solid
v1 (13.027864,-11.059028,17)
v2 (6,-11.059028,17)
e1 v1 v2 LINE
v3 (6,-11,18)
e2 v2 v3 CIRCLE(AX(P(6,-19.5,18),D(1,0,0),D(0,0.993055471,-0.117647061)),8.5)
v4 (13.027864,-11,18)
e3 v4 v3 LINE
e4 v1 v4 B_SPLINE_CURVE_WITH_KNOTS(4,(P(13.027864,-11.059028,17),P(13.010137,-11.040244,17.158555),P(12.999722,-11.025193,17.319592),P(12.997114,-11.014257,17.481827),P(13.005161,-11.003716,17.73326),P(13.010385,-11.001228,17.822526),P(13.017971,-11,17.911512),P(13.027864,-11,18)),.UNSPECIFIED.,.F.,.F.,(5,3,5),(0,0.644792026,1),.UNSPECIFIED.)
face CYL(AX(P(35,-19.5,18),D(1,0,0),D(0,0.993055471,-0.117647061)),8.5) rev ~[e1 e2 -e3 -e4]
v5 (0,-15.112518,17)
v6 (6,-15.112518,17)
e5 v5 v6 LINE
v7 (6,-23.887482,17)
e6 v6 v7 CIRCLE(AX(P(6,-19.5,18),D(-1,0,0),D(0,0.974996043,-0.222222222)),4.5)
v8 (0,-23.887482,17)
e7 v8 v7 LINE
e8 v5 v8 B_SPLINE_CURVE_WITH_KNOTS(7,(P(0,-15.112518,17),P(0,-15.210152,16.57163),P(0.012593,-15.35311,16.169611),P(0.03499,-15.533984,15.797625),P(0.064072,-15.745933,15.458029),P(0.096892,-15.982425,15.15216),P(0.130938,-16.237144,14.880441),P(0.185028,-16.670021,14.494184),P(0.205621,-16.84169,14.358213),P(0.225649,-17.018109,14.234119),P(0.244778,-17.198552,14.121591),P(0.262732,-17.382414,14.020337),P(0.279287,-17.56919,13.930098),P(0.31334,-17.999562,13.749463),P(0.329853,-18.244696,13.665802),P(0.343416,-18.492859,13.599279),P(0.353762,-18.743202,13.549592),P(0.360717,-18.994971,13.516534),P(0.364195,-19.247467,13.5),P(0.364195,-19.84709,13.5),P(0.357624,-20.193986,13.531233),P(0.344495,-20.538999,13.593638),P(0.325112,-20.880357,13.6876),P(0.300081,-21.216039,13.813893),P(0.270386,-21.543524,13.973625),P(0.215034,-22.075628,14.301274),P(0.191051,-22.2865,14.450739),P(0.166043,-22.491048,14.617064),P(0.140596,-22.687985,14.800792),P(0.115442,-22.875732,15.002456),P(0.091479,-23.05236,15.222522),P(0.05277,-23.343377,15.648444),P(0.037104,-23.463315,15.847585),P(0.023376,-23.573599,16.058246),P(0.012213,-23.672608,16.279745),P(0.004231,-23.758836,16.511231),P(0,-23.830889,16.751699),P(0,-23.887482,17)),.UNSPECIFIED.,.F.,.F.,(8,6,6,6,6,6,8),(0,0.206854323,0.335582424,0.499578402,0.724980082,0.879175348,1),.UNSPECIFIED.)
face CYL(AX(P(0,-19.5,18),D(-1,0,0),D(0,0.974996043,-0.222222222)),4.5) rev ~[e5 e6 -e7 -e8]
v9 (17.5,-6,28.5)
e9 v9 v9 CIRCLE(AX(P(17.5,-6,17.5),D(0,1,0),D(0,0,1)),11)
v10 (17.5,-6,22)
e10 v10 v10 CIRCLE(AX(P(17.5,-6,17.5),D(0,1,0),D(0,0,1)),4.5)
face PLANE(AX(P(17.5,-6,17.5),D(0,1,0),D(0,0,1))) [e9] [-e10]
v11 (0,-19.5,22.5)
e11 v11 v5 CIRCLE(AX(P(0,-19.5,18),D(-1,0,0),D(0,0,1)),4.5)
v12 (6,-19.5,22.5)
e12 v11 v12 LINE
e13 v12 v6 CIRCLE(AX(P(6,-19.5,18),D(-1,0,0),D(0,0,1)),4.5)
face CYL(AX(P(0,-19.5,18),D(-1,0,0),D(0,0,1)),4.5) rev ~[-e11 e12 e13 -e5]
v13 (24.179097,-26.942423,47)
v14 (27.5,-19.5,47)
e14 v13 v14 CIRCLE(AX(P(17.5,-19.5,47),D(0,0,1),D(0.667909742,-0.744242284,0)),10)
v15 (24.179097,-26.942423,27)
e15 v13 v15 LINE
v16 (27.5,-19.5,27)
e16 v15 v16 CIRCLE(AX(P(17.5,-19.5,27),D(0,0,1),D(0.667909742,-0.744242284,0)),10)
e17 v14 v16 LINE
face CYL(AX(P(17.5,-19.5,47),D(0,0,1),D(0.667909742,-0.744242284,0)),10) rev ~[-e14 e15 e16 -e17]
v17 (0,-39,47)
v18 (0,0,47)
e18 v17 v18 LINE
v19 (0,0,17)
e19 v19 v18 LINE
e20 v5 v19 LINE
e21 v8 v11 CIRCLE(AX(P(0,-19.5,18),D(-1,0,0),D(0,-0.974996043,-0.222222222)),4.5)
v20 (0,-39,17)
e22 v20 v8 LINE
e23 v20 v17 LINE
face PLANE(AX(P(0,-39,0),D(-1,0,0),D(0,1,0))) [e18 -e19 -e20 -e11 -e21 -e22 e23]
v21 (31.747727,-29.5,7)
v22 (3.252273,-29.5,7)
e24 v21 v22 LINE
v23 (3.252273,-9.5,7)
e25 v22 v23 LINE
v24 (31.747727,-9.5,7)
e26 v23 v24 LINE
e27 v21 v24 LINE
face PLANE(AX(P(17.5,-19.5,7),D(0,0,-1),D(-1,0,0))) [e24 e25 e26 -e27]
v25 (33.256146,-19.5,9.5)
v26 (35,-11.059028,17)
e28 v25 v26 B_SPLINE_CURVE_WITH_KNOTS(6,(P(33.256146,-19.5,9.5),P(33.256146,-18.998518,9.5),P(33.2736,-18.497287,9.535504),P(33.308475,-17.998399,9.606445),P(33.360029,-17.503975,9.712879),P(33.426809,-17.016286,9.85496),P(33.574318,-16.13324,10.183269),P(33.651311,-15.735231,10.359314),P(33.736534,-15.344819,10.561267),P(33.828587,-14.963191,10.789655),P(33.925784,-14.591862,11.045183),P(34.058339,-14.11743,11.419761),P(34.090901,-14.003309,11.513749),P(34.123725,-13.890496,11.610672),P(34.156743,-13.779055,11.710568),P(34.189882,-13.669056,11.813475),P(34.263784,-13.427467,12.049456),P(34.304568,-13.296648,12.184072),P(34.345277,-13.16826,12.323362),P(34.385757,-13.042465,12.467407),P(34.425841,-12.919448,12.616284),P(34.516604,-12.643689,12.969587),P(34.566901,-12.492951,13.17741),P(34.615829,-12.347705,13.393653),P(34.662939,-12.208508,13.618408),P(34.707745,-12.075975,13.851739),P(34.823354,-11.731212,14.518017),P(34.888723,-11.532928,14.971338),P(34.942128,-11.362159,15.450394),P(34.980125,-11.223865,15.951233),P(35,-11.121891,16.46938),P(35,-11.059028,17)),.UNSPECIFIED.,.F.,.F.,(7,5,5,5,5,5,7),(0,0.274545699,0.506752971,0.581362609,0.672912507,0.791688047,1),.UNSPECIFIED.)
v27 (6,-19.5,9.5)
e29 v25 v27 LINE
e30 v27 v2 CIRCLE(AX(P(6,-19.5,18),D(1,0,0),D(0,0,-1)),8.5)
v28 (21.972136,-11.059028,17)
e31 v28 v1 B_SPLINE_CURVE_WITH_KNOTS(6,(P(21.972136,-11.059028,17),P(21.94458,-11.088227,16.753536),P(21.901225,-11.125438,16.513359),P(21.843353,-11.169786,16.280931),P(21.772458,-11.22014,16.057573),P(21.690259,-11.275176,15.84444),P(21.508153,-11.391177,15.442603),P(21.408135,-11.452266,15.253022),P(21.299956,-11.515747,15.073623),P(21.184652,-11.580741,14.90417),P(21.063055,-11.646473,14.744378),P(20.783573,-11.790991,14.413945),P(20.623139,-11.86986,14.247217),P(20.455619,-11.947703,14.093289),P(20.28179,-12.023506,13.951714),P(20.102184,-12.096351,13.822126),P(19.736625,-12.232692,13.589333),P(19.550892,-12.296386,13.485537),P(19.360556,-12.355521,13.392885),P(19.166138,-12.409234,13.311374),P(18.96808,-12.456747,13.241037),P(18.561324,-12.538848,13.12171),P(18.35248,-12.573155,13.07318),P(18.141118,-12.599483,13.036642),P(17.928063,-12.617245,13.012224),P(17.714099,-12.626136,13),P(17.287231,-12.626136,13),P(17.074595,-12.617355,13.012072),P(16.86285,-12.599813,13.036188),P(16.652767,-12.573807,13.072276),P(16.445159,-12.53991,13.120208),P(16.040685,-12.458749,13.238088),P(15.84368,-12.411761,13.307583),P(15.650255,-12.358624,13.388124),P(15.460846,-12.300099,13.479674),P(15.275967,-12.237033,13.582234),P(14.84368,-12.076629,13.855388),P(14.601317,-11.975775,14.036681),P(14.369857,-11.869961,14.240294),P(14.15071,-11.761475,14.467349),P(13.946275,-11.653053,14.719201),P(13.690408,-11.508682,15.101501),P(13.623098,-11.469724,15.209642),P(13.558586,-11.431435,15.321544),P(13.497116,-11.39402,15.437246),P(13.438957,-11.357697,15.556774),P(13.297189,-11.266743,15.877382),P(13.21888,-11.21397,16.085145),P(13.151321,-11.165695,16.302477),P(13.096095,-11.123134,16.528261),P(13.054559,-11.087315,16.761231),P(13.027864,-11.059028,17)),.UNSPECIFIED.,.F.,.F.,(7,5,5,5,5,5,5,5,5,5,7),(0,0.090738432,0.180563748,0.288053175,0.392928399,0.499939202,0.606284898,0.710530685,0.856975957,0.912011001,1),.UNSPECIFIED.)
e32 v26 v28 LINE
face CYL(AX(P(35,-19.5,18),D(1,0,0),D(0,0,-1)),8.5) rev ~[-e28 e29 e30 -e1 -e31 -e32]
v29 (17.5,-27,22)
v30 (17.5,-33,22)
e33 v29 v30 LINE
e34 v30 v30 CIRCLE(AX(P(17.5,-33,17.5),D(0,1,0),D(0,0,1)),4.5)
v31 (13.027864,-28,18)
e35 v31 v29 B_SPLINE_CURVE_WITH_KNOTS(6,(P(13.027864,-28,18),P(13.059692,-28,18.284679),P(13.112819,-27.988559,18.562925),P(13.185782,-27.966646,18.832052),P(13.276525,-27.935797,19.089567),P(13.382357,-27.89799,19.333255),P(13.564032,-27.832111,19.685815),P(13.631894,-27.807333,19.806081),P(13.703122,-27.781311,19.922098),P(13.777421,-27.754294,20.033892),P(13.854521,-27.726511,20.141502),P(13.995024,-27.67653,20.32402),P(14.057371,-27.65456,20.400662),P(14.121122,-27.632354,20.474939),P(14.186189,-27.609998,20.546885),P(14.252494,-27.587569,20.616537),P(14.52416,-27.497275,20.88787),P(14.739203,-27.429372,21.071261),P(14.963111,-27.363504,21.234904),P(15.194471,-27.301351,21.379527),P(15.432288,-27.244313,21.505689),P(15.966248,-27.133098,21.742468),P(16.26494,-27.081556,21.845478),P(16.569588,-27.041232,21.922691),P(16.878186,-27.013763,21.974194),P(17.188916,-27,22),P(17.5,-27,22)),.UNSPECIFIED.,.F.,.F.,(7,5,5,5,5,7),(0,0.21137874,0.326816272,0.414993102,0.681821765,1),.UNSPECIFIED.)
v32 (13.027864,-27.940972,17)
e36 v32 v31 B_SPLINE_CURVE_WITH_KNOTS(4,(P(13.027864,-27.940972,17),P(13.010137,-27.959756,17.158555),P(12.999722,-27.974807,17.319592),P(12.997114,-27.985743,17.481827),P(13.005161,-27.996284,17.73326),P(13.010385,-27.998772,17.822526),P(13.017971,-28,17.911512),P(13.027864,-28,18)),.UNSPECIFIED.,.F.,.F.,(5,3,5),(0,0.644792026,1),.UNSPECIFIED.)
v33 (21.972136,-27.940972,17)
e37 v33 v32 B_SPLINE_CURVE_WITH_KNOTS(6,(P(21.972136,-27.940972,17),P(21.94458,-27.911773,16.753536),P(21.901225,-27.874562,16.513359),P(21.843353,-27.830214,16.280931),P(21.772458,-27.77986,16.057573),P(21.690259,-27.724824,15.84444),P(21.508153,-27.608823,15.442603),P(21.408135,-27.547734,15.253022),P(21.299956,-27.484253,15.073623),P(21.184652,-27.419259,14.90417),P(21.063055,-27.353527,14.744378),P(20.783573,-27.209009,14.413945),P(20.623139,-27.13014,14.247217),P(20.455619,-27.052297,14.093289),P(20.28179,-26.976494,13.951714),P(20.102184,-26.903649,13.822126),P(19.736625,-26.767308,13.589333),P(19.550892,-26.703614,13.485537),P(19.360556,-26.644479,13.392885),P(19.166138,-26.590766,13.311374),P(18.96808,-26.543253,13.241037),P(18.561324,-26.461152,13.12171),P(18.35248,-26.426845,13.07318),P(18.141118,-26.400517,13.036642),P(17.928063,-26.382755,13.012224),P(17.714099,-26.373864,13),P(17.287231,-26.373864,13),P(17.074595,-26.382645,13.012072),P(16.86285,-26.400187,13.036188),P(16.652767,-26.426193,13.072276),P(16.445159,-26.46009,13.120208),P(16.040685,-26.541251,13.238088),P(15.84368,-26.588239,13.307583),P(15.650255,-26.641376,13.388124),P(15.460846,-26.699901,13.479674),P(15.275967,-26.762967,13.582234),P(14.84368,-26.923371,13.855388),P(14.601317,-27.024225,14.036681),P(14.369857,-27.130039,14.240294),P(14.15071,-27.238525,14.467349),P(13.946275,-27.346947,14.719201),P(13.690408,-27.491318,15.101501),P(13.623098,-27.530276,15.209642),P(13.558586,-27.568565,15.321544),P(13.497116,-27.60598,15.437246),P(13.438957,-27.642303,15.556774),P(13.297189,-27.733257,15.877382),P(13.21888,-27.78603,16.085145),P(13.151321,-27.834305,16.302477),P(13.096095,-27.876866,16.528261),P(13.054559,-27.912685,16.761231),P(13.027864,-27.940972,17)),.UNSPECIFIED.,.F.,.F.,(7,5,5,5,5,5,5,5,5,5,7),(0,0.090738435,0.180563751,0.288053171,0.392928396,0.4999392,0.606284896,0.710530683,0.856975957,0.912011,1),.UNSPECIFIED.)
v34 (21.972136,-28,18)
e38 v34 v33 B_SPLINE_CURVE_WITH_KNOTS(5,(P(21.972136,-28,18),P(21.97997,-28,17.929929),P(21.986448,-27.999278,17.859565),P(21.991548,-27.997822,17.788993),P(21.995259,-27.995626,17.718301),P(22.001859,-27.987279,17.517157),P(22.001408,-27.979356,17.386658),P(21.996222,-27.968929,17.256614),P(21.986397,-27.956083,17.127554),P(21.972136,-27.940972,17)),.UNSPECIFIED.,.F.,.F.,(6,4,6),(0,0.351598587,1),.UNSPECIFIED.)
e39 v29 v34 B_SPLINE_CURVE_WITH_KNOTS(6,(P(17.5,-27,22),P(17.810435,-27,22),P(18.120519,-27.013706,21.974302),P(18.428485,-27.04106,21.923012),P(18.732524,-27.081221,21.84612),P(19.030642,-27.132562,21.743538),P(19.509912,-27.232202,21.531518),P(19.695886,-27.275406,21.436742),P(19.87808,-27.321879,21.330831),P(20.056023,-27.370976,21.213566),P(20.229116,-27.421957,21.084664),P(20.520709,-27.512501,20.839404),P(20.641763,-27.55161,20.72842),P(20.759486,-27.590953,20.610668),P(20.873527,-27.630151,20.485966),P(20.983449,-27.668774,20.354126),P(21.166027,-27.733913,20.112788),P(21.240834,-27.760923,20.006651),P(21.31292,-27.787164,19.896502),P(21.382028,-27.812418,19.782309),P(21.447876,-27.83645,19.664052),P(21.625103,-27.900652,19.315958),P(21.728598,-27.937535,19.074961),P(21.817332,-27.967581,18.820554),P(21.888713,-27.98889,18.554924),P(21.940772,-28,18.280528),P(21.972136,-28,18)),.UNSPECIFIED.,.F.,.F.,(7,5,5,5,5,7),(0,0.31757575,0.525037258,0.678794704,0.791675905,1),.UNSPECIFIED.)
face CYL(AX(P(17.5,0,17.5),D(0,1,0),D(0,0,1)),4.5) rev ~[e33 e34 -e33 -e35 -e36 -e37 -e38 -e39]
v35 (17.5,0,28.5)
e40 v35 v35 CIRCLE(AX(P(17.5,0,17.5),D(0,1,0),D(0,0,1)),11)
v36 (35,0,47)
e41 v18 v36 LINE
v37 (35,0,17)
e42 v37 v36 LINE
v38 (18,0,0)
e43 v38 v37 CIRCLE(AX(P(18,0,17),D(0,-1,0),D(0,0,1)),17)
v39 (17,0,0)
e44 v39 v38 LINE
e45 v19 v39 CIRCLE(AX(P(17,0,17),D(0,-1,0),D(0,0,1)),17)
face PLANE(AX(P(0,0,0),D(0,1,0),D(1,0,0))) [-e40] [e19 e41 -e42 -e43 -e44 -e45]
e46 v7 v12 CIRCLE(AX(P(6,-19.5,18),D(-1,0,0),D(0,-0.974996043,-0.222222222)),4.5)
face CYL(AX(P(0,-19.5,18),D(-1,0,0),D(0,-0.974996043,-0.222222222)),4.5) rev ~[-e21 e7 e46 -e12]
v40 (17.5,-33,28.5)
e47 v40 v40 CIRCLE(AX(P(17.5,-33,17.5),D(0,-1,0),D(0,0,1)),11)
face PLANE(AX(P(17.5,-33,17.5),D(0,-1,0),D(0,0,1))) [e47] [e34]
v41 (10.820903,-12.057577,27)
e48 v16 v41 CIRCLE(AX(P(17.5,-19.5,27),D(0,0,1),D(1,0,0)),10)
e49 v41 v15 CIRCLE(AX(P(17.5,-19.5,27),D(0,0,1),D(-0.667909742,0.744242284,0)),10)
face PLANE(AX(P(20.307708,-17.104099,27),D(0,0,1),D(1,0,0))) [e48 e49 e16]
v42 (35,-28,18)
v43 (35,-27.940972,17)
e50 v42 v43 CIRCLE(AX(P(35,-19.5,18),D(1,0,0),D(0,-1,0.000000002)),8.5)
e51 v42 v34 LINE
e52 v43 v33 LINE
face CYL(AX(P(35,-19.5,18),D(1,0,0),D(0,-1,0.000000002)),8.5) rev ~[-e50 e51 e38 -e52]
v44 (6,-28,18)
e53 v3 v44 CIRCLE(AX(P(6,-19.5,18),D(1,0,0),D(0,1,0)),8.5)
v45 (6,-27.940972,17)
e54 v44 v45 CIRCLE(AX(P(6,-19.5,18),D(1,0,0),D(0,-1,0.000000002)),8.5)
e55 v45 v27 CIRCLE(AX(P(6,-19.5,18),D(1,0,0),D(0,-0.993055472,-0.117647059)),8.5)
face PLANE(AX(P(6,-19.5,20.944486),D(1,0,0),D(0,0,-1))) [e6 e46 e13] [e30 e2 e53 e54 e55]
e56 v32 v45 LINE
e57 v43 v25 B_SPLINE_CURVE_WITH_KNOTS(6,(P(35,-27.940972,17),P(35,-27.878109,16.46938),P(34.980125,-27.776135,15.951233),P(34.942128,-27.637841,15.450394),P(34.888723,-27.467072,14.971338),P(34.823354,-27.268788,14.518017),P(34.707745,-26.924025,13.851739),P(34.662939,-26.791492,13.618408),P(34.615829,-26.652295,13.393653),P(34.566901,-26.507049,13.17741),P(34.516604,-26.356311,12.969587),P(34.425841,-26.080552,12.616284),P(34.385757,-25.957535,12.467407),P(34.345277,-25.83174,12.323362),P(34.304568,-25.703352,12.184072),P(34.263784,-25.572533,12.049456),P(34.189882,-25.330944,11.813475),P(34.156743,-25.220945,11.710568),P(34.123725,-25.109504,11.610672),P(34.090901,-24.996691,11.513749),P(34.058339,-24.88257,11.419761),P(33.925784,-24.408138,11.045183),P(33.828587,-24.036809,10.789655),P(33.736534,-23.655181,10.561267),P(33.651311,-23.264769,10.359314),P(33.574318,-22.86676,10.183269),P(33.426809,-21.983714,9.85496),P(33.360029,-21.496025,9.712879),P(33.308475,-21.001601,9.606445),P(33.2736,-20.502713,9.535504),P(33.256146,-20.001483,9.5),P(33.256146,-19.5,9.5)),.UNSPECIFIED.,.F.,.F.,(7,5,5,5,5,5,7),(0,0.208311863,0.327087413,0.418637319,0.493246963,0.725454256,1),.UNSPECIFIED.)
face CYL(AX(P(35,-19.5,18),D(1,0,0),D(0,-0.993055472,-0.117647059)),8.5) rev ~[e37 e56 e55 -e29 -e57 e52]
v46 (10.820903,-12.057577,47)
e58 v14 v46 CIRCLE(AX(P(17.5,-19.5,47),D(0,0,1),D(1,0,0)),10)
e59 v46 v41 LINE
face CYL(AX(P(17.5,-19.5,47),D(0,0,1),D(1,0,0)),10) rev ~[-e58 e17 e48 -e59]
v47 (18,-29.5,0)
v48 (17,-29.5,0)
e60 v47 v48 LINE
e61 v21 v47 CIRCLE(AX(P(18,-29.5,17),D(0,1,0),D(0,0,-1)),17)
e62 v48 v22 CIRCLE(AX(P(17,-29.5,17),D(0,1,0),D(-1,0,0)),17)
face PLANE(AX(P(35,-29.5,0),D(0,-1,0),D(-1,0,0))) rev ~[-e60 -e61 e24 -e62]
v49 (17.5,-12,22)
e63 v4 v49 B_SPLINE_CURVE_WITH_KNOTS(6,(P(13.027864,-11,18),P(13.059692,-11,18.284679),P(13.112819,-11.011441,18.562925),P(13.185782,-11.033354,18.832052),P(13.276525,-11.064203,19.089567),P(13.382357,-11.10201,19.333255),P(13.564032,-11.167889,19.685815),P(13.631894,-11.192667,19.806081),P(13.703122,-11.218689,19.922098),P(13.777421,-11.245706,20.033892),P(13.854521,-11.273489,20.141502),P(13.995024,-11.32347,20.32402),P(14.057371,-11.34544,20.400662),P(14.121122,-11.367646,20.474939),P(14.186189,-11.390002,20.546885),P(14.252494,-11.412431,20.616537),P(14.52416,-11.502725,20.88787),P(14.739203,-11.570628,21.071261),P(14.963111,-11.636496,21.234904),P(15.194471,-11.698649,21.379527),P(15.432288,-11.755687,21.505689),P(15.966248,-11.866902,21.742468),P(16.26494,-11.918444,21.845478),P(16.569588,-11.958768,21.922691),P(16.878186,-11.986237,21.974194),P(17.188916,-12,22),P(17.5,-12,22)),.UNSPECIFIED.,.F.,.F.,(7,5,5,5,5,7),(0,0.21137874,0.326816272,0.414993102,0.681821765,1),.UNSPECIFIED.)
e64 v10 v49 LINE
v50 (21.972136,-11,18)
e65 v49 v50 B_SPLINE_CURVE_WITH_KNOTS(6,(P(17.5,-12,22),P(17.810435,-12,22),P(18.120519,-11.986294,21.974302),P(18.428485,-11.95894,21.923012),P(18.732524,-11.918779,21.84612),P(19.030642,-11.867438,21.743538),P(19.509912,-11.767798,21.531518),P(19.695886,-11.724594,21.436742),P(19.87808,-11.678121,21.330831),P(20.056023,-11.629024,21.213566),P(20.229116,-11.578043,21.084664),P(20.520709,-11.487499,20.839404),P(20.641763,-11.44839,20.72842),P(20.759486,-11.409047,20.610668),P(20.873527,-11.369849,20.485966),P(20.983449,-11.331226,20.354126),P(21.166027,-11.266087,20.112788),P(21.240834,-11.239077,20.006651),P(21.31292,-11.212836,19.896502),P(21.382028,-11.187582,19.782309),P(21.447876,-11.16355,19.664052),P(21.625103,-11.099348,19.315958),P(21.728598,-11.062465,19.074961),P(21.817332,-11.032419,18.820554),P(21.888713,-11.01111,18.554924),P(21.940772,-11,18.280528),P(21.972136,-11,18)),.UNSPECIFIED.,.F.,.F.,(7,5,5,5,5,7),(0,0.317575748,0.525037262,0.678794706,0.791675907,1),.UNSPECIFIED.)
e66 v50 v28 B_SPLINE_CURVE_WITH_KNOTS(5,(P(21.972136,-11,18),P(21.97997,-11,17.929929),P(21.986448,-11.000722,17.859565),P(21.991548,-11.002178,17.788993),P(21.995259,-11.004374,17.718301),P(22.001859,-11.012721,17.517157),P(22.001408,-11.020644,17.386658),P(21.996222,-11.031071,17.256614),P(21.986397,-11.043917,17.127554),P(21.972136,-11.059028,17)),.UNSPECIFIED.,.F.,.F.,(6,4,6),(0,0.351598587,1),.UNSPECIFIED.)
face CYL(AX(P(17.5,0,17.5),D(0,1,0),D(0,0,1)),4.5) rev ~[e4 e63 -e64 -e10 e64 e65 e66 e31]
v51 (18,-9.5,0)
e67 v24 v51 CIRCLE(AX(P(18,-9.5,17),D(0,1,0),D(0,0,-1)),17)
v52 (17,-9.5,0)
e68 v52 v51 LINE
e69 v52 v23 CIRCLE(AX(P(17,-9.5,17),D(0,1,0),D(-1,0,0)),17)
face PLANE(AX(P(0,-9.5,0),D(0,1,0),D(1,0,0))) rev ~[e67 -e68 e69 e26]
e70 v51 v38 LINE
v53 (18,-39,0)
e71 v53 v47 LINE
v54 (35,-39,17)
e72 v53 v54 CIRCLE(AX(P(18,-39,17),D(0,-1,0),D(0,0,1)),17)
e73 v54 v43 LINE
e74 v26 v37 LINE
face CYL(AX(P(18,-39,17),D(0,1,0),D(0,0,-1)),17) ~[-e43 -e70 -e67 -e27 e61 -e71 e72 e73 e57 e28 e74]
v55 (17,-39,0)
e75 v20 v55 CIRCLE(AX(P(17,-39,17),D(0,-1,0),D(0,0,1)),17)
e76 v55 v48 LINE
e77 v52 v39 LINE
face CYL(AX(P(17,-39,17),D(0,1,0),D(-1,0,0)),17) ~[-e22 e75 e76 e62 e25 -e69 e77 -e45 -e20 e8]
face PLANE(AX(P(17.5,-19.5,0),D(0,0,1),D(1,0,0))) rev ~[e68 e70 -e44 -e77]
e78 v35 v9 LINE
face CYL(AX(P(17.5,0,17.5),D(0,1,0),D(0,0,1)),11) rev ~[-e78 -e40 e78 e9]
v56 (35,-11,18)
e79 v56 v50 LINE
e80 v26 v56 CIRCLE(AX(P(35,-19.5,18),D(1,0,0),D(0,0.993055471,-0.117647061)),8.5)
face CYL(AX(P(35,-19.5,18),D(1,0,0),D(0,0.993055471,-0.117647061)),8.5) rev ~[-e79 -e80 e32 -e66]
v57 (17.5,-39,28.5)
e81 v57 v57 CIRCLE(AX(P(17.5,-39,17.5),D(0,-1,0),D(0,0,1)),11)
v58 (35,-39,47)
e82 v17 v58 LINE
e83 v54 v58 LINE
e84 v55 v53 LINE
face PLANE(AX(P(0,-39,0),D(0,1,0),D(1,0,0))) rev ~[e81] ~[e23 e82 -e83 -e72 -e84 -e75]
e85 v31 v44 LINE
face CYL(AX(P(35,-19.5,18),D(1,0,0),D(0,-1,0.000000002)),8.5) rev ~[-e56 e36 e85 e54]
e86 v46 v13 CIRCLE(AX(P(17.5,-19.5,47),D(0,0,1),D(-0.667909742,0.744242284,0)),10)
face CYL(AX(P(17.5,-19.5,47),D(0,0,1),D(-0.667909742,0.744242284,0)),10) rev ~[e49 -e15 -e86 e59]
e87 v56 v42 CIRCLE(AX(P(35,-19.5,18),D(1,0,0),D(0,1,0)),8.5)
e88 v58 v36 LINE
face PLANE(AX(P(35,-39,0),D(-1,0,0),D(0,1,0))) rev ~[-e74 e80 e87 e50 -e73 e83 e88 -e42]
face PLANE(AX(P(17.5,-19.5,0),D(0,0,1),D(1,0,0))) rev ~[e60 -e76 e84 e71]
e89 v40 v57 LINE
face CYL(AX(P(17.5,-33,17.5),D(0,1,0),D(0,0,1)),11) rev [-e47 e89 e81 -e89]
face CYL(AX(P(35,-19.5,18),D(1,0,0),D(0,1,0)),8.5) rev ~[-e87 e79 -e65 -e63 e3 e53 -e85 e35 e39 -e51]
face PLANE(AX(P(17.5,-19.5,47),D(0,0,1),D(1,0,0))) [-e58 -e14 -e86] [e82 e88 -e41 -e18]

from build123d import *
from build123d.topology import SkipClean

# Parameters (mm, degrees)
ESQUISSE1_W             = 35
ESQUISSE1_H             = 39
BOSS_EXTRU_1_DEPTH      = 47
ENL_V_MAT_EXTRU_1_DEPTH = 20
CONG_1_R                = 17
ESQUISSE3_W             = 1
ESQUISSE3_H             = 20
ESQUISSE3_W_2           = 17
ENL_V_MAT_EXTRU_2_DEPTH = 7
ENL_V_MAT_EXTRU_3_DEPTH = 29
ESQUISSE5_R             = 4.5
ENL_V_MAT_EXTRU_4_DEPTH = 71.391760987
ESQUISSE7_R             = 11
ENL_V_MAT_EXTRU_5_DEPTH = 6
ENL_V_START             = -6
ESQUISSE8_R             = 11
ENL_V_MAT_EXTRU_6_DEPTH = 6
ENL_V_MAT_EXTRU_7_DEPTH = 6


with BuildPart() as part:
    # Esquisse1 → Boss.-Extru.1 (new body)
    with BuildSketch(Plane.XY):
        with Locations((17.5, -19.5)):
            Rectangle(ESQUISSE1_W, ESQUISSE1_H)
    extrude(amount=BOSS_EXTRU_1_DEPTH)

    # Esquisse2 → Enlèv. mat.-Extru.1 (cut)
    with BuildSketch(Plane.XY.offset(47)):
        with BuildLine():
            ThreePointArc((27.5, -19.5), (21.574863545, -10.367887041), (10.820902582, -12.057577163))
            Line((10.820902582, -12.057577163), (24.179097418, -26.942422837))
            ThreePointArc((24.179097418, -26.942422837), (26.632112959, -23.574863545), (27.5, -19.5))
        make_face()
        with BuildLine():
            Line((24.179097418, -26.942422837), (10.820902582, -12.057577163))
            ThreePointArc((10.820902582, -12.057577163), (10.057577163, -26.179097418), (24.179097418, -26.942422837))
        make_face()
    extrude(amount=-ENL_V_MAT_EXTRU_1_DEPTH, mode=Mode.SUBTRACT)

    # Congé1
    cong_1_edges = [part.edges().sort_by_distance(p)[0] for p in [
        (35, -19.5, 0),
        (0, -19.5, 0),
    ]]
    fillet(cong_1_edges, radius=CONG_1_R)

    # Esquisse3 → Enlèv. mat.-Extru.2 (cut)
    with BuildSketch(Plane(origin=(0, 0, 0), x_dir=(-1, 0, 0), z_dir=(0, 0, -1))):
        with Locations((-17.5, -19.5)):
            Rectangle(ESQUISSE3_W, ESQUISSE3_H)
        with Locations((-26.5, -19.5)):
            Rectangle(ESQUISSE3_W_2, ESQUISSE3_H)
        with Locations((-8.5, -19.5)):
            Rectangle(ESQUISSE3_W_2, ESQUISSE3_H)
    extrude(amount=-ENL_V_MAT_EXTRU_2_DEPTH, mode=Mode.SUBTRACT)

    # Esquisse4 → Enlèv. mat.-Extru.3 (cut)
    with BuildSketch(Plane(origin=(35, 0, 0), x_dir=(0, 0, -1), z_dir=(1, 0, 0))):
        with BuildLine():
            ThreePointArc((-18, -11), (-26.5, -19.5), (-18, -28))
            Line((-18, -28), (-18, -11))
        make_face()
        with BuildLine():
            Line((-17, -11.059028492), (-17, -27.940971508))
            ThreePointArc((-17, -27.940971508), (-11.645867486, -25.145794895), (-9.5, -19.5))
            ThreePointArc((-9.5, -19.5), (-11.645867486, -13.854205105), (-17, -11.059028492))
        make_face()
        with BuildLine():
            Line((-18, -11), (-18, -28))
            ThreePointArc((-18, -28), (-17.499129667, -27.985230045), (-17, -27.940971508))
            Line((-17, -27.940971508), (-17, -11.059028492))
            ThreePointArc((-17, -11.059028492), (-17.499129667, -11.014769955), (-18, -11))
        make_face()
    extrude(amount=-ENL_V_MAT_EXTRU_3_DEPTH, mode=Mode.SUBTRACT)

    # Esquisse5 → Enlèv. mat.-Extru.4 (cut, through all)
    with SkipClean():  # the faces are left unmerged after this step: merging them gives an invalid solid
        with BuildSketch(Plane(origin=(0, 0, 0), x_dir=(1, 0, 0), z_dir=(0, 1, 0))):
            with Locations(Location((17.5, -17.5, 0), (0, 0, 270))):
                Circle(ESQUISSE5_R)
        extrude(amount=-ENL_V_MAT_EXTRU_4_DEPTH, mode=Mode.SUBTRACT)

    # Esquisse7 → Enlèv. mat.-Extru.5 (cut)
    with SkipClean():  # the faces are left unmerged after this step: merging them gives an invalid solid
        with BuildSketch(Plane(origin=(0, 0, 0), x_dir=(1, 0, 0), z_dir=(0, 1, 0))):
            with Locations(Location((17.5, -17.5, 0), (0, 0, 270))):
                Circle(ESQUISSE7_R)
        extrude(amount=-ENL_V_MAT_EXTRU_5_DEPTH, mode=Mode.SUBTRACT)

    # Esquisse8 → Enlèv. mat.-Extru.6 (cut)
    with SkipClean():  # the faces are left unmerged after this step: merging them gives an invalid solid
        with BuildSketch(Plane.XZ.offset(39).offset(ENL_V_START)):
            with Locations(Location((17.5, 17.5, 0), (0, 0, 90))):
                Circle(ESQUISSE8_R)
        extrude(amount=ENL_V_MAT_EXTRU_6_DEPTH, mode=Mode.SUBTRACT)

    # Esquisse10 → Enlèv. mat.-Extru.7 (cut)
    with SkipClean():  # the faces are left unmerged after this step: merging them gives an invalid solid
        with BuildSketch(Plane.ZY):
            with BuildLine():
                ThreePointArc((17, -23.887482194), (20.80624304, -23.01781182), (22.5, -19.5))
                ThreePointArc((22.5, -19.5), (20.80624304, -15.98218818), (17, -15.112517806))
                Line((17, -15.112517806), (17, -23.887482194))
            make_face()
            with BuildLine():
                Line((17, -23.887482194), (17, -15.112517806))
                ThreePointArc((17, -15.112517806), (13.5, -19.5), (17, -23.887482194))
            make_face()
        extrude(amount=-ENL_V_MAT_EXTRU_7_DEPTH, mode=Mode.SUBTRACT)


solid = part.part
